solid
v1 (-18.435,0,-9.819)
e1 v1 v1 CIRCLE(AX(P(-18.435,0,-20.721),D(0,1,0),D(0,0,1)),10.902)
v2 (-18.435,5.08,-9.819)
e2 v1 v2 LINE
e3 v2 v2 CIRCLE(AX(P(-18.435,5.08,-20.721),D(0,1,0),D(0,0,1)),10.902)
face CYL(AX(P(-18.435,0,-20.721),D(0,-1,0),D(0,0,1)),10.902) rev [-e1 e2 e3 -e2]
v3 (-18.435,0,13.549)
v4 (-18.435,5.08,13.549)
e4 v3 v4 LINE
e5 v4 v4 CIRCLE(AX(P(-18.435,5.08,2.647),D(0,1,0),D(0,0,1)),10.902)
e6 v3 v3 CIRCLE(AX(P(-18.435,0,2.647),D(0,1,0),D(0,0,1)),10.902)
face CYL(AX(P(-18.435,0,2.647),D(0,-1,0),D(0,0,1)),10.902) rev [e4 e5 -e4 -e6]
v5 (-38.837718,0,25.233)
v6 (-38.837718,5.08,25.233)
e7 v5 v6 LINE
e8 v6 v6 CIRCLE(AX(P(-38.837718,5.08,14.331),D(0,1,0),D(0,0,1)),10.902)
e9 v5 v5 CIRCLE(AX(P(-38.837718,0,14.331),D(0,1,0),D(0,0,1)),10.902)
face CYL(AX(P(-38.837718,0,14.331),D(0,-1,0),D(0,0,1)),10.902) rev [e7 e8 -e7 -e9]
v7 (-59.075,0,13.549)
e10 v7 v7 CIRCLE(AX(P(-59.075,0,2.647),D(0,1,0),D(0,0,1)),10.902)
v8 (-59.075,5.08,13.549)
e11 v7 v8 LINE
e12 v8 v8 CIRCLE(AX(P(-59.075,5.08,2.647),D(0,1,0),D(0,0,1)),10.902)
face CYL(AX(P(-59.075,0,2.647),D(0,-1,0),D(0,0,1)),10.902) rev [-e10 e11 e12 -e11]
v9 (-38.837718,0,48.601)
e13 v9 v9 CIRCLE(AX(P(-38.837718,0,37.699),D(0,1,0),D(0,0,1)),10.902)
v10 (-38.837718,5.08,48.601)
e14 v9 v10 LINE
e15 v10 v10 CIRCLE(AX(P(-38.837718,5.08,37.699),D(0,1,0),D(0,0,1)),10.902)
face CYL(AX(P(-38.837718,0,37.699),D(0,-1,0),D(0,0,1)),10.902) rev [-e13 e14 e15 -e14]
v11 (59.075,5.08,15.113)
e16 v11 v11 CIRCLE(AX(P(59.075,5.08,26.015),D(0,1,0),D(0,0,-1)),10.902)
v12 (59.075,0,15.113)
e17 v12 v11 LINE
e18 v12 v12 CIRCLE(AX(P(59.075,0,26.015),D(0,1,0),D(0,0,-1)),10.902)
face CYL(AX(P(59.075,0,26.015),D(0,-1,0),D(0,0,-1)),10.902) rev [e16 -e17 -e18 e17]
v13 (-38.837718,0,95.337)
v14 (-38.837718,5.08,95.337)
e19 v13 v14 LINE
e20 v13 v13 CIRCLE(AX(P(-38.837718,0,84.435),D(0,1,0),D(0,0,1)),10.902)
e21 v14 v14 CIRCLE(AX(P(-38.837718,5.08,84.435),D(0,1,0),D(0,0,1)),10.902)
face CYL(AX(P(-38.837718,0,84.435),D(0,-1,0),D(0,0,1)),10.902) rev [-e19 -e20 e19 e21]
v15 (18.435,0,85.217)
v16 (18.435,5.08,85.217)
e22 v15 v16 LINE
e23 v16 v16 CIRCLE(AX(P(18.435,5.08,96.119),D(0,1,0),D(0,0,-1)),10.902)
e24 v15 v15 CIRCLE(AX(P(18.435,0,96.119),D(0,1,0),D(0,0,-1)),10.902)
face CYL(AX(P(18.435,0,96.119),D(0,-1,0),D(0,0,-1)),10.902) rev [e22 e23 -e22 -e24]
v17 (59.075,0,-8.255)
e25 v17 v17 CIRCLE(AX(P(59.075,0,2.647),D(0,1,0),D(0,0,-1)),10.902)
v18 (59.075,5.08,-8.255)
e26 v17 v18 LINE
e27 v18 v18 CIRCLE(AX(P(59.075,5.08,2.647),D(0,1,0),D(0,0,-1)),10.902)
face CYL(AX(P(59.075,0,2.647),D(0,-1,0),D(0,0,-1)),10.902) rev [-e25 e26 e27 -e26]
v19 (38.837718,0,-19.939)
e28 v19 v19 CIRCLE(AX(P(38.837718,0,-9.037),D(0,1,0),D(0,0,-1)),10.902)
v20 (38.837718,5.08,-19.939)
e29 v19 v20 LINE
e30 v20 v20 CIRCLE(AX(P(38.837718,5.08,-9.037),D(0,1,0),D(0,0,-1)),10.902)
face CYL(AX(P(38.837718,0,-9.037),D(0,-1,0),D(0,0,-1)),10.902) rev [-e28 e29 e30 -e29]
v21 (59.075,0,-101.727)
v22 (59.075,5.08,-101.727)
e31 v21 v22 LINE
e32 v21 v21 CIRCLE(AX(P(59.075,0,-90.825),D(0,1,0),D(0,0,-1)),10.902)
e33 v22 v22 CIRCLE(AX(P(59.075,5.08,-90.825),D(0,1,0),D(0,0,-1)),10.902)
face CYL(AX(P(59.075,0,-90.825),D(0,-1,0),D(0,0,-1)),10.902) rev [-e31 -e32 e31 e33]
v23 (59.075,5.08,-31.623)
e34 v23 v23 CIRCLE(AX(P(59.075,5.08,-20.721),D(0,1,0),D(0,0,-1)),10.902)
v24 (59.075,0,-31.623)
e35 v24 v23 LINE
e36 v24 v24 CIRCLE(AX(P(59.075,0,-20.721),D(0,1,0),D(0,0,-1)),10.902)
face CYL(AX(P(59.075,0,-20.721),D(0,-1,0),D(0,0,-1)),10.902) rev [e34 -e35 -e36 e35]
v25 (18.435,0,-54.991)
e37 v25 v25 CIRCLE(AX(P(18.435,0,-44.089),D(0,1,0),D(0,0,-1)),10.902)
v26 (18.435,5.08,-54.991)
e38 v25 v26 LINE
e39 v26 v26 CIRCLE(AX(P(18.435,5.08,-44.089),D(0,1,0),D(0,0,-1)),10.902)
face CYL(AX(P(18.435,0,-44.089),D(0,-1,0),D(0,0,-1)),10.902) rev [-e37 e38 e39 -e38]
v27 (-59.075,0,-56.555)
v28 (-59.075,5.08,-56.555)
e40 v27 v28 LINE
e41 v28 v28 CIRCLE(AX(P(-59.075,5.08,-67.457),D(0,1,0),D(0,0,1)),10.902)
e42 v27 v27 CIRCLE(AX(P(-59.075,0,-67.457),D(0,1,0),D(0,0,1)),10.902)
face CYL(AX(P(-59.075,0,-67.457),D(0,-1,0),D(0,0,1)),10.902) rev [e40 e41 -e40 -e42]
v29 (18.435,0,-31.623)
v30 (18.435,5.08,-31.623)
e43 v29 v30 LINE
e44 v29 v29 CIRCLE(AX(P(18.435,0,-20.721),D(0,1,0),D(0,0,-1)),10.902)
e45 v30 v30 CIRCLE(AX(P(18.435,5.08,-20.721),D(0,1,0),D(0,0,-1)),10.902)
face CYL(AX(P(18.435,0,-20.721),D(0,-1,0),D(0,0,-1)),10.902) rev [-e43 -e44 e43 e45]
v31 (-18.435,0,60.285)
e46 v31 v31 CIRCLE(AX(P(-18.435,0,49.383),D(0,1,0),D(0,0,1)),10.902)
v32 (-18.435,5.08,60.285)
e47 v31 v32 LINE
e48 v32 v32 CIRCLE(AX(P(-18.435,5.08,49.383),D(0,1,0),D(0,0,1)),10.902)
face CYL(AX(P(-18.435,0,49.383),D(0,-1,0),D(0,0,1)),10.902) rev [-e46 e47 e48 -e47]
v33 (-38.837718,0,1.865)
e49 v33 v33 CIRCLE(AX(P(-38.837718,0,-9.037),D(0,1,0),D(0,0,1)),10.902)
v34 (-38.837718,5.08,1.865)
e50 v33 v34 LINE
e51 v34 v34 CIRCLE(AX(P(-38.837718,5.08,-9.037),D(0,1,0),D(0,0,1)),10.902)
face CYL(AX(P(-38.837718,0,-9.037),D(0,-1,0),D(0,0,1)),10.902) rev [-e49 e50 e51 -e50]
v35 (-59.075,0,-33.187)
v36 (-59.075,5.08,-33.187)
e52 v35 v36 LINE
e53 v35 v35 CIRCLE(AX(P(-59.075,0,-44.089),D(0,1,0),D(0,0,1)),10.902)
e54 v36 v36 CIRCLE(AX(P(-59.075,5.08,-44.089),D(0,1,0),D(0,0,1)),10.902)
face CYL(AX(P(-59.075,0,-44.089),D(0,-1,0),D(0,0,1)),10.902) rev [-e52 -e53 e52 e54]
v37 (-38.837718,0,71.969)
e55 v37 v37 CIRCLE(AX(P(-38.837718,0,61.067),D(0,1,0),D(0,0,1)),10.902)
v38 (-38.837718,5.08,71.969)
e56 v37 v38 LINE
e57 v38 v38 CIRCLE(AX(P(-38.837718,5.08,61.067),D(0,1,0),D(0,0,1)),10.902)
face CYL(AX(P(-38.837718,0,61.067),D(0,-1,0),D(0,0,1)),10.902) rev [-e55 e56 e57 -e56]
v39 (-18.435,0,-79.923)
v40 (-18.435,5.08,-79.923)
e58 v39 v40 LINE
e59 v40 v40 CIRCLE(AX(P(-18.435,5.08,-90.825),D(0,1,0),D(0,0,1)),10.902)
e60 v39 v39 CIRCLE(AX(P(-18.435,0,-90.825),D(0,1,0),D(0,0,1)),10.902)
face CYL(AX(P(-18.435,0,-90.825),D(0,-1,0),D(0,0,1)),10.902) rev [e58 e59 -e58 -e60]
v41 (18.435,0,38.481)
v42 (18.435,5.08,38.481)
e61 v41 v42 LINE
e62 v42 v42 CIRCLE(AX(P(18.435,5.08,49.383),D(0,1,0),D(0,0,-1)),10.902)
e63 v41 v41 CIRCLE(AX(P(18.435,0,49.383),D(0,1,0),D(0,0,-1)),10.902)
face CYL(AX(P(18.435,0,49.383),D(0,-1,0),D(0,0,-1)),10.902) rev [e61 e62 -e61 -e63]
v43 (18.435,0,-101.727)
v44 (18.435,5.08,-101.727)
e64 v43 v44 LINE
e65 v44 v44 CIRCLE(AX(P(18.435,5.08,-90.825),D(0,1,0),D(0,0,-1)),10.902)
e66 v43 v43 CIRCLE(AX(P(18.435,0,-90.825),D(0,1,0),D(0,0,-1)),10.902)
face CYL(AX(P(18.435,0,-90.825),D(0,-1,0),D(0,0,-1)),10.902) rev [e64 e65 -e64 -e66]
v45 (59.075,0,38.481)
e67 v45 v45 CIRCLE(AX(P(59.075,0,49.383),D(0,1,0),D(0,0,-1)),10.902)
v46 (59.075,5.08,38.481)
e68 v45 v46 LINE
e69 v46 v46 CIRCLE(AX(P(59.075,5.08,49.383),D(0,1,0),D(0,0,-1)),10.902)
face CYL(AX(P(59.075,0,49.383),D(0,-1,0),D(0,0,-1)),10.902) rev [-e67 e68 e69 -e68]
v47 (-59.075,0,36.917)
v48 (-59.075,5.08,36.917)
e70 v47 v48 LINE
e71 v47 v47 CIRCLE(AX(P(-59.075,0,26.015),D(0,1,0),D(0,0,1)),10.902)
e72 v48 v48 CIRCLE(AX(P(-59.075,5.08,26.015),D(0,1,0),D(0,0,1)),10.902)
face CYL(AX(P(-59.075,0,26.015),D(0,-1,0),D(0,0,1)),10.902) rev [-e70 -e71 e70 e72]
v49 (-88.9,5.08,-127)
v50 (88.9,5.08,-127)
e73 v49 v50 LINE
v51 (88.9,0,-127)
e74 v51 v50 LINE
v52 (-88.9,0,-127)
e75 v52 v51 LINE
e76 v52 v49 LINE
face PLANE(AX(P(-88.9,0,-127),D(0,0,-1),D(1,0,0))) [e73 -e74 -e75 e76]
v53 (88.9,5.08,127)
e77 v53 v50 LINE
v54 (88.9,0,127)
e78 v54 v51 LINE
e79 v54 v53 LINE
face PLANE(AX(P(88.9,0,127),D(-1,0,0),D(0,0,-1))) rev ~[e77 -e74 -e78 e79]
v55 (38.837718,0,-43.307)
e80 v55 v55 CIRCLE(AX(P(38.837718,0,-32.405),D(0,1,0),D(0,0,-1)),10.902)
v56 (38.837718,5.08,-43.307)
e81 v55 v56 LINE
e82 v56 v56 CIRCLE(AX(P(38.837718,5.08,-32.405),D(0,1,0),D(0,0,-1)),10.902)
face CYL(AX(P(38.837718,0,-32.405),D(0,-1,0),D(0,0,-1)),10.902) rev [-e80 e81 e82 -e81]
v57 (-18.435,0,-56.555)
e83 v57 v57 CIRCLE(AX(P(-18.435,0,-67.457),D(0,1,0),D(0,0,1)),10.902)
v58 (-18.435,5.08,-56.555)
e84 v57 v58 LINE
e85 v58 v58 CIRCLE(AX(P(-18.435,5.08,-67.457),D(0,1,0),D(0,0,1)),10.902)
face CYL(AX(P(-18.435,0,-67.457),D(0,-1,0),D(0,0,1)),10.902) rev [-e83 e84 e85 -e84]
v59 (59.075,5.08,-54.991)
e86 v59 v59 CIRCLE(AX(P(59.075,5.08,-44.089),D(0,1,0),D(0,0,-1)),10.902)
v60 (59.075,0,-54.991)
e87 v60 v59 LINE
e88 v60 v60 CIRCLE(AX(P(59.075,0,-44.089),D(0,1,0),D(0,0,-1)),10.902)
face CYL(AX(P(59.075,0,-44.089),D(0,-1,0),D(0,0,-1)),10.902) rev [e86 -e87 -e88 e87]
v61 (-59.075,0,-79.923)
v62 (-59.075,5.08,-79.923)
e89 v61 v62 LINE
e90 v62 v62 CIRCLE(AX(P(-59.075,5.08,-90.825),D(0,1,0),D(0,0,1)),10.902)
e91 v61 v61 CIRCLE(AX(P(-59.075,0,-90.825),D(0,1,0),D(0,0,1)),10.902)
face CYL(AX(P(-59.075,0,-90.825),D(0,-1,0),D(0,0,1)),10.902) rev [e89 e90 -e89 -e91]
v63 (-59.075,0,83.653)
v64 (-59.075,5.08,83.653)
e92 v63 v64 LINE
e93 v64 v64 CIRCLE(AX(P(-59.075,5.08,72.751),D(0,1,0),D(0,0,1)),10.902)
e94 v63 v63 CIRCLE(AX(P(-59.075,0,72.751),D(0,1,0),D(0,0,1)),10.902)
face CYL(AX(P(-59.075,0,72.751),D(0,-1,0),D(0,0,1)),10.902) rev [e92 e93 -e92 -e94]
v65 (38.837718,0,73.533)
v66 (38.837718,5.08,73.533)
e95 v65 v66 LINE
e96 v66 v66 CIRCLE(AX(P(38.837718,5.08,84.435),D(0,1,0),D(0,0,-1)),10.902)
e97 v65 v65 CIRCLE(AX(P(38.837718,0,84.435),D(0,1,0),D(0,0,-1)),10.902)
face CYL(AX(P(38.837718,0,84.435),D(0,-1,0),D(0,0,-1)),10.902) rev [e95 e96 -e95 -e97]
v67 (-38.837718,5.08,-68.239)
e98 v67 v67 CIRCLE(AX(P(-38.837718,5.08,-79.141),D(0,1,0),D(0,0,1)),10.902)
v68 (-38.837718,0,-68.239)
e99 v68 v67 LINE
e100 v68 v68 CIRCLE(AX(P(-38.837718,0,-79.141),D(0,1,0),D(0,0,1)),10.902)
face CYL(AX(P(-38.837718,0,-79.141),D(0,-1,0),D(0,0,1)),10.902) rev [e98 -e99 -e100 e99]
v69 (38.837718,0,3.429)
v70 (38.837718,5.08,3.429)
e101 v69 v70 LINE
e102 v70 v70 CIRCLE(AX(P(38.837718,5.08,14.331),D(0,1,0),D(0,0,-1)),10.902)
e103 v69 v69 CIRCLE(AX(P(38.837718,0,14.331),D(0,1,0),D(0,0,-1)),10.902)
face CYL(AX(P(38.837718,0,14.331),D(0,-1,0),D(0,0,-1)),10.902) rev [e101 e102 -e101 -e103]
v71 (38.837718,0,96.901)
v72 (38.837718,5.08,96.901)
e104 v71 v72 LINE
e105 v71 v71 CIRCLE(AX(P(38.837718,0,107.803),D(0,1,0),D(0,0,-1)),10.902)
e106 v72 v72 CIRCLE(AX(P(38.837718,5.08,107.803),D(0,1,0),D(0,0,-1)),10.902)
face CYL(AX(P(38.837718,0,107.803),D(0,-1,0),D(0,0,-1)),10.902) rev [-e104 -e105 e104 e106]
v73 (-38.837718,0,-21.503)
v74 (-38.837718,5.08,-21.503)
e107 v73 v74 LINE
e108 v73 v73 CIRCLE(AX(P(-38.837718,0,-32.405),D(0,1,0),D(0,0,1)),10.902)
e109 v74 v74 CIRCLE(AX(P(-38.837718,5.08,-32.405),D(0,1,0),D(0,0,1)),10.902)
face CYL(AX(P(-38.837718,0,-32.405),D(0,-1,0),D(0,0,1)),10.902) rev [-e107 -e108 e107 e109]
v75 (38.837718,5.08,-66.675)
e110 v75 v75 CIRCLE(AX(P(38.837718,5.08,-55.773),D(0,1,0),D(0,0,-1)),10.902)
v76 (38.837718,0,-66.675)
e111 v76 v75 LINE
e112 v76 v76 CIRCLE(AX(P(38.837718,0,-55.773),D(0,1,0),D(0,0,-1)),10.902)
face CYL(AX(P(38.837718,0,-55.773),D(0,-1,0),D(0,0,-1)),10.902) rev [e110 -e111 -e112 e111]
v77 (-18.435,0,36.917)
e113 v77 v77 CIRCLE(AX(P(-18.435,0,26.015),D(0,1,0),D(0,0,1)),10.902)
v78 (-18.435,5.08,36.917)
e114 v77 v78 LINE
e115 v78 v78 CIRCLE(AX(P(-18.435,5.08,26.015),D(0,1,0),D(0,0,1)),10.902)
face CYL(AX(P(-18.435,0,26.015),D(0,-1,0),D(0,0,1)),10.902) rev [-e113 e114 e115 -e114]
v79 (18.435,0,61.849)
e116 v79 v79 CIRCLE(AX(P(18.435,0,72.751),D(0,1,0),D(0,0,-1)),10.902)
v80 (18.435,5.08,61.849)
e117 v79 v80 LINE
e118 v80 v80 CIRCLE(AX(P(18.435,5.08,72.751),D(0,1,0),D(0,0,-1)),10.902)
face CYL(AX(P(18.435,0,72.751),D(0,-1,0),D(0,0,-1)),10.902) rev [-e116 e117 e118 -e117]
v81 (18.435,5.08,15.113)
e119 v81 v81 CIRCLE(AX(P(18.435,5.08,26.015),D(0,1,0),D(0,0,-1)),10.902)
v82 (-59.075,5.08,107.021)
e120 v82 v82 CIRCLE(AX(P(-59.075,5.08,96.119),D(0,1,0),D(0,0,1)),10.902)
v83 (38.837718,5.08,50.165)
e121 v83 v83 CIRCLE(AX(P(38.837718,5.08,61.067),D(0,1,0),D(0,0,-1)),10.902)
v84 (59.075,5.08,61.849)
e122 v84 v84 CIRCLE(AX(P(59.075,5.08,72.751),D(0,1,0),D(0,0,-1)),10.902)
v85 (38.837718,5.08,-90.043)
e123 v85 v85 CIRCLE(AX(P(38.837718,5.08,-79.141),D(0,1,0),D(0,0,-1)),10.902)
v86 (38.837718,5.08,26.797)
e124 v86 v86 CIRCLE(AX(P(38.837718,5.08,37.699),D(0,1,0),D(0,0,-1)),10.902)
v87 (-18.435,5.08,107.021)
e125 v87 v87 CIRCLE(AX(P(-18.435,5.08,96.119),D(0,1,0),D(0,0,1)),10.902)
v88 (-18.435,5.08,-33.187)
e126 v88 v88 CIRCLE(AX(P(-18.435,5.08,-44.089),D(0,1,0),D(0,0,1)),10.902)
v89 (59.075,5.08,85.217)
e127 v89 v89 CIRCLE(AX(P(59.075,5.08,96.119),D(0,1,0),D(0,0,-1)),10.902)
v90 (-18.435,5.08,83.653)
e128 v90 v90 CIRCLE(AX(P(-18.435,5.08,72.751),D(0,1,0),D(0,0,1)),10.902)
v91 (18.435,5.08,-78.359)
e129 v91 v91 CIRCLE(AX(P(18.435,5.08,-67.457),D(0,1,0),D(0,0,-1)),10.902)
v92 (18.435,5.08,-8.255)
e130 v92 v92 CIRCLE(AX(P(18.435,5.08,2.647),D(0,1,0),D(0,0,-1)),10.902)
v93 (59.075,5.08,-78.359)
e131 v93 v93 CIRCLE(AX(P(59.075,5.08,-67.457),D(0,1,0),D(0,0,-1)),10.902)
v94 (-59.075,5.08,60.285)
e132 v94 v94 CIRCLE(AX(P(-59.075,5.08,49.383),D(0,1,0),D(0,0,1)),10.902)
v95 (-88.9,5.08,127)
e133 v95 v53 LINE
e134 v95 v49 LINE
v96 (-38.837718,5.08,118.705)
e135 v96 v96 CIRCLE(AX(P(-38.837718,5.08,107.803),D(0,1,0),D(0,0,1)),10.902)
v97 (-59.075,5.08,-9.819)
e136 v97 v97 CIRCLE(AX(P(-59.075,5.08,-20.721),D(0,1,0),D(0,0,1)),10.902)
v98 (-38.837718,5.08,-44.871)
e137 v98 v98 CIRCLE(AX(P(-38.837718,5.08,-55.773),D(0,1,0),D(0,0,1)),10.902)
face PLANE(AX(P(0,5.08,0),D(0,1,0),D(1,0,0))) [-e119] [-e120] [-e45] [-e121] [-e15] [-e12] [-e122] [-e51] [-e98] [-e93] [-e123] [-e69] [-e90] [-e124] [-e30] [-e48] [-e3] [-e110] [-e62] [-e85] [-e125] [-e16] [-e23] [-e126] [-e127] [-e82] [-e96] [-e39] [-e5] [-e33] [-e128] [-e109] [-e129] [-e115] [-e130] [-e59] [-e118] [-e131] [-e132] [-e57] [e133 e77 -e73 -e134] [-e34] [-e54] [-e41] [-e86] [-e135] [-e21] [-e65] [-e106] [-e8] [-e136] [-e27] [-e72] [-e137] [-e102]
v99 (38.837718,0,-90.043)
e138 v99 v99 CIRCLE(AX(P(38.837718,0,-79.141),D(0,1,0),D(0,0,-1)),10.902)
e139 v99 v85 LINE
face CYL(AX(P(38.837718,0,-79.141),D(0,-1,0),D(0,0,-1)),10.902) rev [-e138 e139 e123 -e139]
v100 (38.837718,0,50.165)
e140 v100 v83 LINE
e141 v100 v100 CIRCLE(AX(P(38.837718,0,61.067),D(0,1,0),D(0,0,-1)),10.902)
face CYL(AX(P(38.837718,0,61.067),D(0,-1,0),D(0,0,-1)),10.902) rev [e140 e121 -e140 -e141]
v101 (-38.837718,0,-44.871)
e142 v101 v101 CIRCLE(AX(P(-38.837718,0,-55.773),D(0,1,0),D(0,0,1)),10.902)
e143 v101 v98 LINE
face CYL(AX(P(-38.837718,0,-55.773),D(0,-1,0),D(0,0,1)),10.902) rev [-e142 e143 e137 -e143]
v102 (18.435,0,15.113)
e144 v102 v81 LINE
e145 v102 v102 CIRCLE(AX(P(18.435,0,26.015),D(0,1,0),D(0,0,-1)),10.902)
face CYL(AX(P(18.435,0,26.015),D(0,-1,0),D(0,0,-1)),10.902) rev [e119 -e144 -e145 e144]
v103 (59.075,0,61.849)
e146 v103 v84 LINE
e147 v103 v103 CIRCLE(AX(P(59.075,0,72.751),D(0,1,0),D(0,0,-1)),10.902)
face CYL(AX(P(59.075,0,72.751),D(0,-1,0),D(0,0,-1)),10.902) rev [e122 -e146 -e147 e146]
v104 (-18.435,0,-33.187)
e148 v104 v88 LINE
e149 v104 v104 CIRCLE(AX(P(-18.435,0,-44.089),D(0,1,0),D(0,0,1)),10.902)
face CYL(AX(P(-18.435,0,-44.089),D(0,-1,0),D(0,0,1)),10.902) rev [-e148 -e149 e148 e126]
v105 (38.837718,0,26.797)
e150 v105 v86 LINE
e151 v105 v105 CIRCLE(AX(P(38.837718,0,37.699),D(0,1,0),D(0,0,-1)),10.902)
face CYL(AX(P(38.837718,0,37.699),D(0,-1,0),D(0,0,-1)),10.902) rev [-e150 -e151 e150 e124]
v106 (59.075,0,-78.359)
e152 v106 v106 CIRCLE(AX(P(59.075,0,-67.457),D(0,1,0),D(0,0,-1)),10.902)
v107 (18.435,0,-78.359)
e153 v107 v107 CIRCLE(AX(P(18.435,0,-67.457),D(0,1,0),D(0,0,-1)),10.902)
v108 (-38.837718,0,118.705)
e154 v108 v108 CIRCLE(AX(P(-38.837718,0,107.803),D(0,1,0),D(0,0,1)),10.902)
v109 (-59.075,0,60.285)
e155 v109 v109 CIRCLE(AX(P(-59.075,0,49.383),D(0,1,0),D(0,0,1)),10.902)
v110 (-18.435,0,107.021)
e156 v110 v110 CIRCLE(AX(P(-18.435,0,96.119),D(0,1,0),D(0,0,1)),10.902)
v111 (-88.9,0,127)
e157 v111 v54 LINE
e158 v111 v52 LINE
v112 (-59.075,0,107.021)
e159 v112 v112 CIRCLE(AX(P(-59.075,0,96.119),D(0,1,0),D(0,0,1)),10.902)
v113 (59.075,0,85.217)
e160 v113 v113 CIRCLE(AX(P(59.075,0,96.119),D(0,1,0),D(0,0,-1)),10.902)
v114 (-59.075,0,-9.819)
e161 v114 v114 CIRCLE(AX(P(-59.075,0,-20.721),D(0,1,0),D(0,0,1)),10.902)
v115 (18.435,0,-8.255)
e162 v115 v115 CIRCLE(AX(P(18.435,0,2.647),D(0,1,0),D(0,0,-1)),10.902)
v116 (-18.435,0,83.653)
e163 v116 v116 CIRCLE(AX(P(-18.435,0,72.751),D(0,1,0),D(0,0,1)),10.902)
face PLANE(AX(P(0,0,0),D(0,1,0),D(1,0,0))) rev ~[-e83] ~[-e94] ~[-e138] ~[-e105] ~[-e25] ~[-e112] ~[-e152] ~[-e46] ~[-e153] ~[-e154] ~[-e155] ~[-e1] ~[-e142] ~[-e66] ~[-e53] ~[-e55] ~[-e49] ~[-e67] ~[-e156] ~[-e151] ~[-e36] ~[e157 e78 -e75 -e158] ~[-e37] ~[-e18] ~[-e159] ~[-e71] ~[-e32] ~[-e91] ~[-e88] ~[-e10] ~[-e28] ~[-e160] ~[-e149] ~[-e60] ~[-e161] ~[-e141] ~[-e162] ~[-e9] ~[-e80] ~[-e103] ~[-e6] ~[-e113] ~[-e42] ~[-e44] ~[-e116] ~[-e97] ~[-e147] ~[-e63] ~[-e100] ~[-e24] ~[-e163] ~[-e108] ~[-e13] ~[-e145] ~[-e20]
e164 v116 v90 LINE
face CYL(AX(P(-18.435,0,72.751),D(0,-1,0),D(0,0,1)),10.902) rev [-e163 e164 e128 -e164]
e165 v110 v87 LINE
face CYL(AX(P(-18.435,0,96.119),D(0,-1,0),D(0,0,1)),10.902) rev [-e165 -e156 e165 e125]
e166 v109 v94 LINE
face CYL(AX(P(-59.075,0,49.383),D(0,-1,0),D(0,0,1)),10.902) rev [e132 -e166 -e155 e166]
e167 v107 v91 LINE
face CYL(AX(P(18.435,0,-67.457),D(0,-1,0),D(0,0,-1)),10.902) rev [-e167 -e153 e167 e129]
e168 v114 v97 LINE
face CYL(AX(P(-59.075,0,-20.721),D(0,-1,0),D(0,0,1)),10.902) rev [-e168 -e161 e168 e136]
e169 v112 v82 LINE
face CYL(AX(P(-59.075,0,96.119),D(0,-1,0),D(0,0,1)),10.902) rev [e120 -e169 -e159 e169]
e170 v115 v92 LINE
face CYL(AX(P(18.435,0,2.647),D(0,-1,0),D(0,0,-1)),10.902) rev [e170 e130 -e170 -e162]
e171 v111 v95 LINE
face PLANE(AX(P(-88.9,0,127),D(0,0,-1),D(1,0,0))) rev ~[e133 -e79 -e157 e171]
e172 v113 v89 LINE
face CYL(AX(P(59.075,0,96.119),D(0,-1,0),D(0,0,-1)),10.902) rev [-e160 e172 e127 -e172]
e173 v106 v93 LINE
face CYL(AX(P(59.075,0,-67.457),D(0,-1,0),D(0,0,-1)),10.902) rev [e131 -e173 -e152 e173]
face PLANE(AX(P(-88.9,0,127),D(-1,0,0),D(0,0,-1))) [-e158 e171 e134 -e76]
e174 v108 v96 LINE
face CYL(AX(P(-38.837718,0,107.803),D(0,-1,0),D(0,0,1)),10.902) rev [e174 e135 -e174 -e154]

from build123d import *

# Parameters (mm, degrees)
SKETCH1_W           = 177.8
SKETCH1_H           = 254
SKETCH1_R           = 10.90200004
BOSS_EXTRUDE1_DEPTH = 5.08


with BuildPart() as part:
    # Sketch1 → Boss-Extrude1 (new body)
    with BuildSketch(Plane(origin=(0, 0, 0), x_dir=(1, 0, 0), z_dir=(0, 1, 0))):
        Rectangle(SKETCH1_W, SKETCH1_H)
        with Locations(Location((-59.07499996, 90.82499996, 0), (0, 0, 270))):
            Circle(SKETCH1_R, mode=Mode.SUBTRACT)
        with Locations(Location((-18.43499996, 90.82499996, 0), (0, 0, 270))):
            Circle(SKETCH1_R, mode=Mode.SUBTRACT)
        with Locations(Location((-18.43499996, 67.45699996, 0), (0, 0, 270))):
            Circle(SKETCH1_R, mode=Mode.SUBTRACT)
        with Locations(Location((-18.43499996, 44.08899996, 0), (0, 0, 270))):
            Circle(SKETCH1_R, mode=Mode.SUBTRACT)
        with Locations(Location((-18.43499996, 20.72099996, 0), (0, 0, 270))):
            Circle(SKETCH1_R, mode=Mode.SUBTRACT)
        with Locations(Location((-18.43499996, -2.64700004, 0), (0, 0, 270))):
            Circle(SKETCH1_R, mode=Mode.SUBTRACT)
        with Locations(Location((-18.43499996, -26.01500004, 0), (0, 0, 270))):
            Circle(SKETCH1_R, mode=Mode.SUBTRACT)
        with Locations(Location((-18.43499996, -49.38300004, 0), (0, 0, 270))):
            Circle(SKETCH1_R, mode=Mode.SUBTRACT)
        with Locations(Location((-18.43499996, -72.75100004, 0), (0, 0, 270))):
            Circle(SKETCH1_R, mode=Mode.SUBTRACT)
        with Locations(Location((-18.43499996, -96.11900004, 0), (0, 0, 270))):
            Circle(SKETCH1_R, mode=Mode.SUBTRACT)
        with Locations(Location((-59.07499996, 67.45699996, 0), (0, 0, 270))):
            Circle(SKETCH1_R, mode=Mode.SUBTRACT)
        with Locations(Location((-59.07499996, 44.08899996, 0), (0, 0, 270))):
            Circle(SKETCH1_R, mode=Mode.SUBTRACT)
        with Locations(Location((-59.07499996, 20.72099996, 0), (0, 0, 270))):
            Circle(SKETCH1_R, mode=Mode.SUBTRACT)
        with Locations(Location((-59.07499996, -2.64700004, 0), (0, 0, 270))):
            Circle(SKETCH1_R, mode=Mode.SUBTRACT)
        with Locations(Location((-59.07499996, -26.01500004, 0), (0, 0, 270))):
            Circle(SKETCH1_R, mode=Mode.SUBTRACT)
        with Locations(Location((-59.07499996, -49.38300004, 0), (0, 0, 270))):
            Circle(SKETCH1_R, mode=Mode.SUBTRACT)
        with Locations(Location((-59.07499996, -72.75100004, 0), (0, 0, 270))):
            Circle(SKETCH1_R, mode=Mode.SUBTRACT)
        with Locations(Location((-59.07499996, -96.11900004, 0), (0, 0, 270))):
            Circle(SKETCH1_R, mode=Mode.SUBTRACT)
        with Locations(Location((-38.837718324, -107.80300004, 0), (0, 0, 270))):
            Circle(SKETCH1_R, mode=Mode.SUBTRACT)
        with Locations(Location((-38.837718324, -84.43500004, 0), (0, 0, 270))):
            Circle(SKETCH1_R, mode=Mode.SUBTRACT)
        with Locations(Location((-38.837718324, -61.06700004, 0), (0, 0, 270))):
            Circle(SKETCH1_R, mode=Mode.SUBTRACT)
        with Locations(Location((-38.837718324, -37.69900004, 0), (0, 0, 270))):
            Circle(SKETCH1_R, mode=Mode.SUBTRACT)
        with Locations(Location((-38.837718324, -14.33100004, 0), (0, 0, 270))):
            Circle(SKETCH1_R, mode=Mode.SUBTRACT)
        with Locations(Location((-38.837718324, 9.03699996, 0), (0, 0, 270))):
            Circle(SKETCH1_R, mode=Mode.SUBTRACT)
        with Locations(Location((-38.837718324, 32.40499996, 0), (0, 0, 270))):
            Circle(SKETCH1_R, mode=Mode.SUBTRACT)
        with Locations(Location((-38.837718324, 55.77299996, 0), (0, 0, 270))):
            Circle(SKETCH1_R, mode=Mode.SUBTRACT)
        with Locations(Location((-38.837718324, 79.14099996, 0), (0, 0, 270))):
            Circle(SKETCH1_R, mode=Mode.SUBTRACT)
        with Locations(Location((59.07499996, -96.11900004, 0), (0, 0, 90))):
            Circle(SKETCH1_R, mode=Mode.SUBTRACT)
        with Locations(Location((18.43499996, -72.75100004, 0), (0, 0, 90))):
            Circle(SKETCH1_R, mode=Mode.SUBTRACT)
        with Locations(Location((18.43499996, -96.11900004, 0), (0, 0, 90))):
            Circle(SKETCH1_R, mode=Mode.SUBTRACT)
        with Locations(Location((38.837718324, -84.43500004, 0), (0, 0, 90))):
            Circle(SKETCH1_R, mode=Mode.SUBTRACT)
        with Locations(Location((38.837718324, -107.80300004, 0), (0, 0, 90))):
            Circle(SKETCH1_R, mode=Mode.SUBTRACT)
        with Locations(Location((59.07499996, -72.75100004, 0), (0, 0, 90))):
            Circle(SKETCH1_R, mode=Mode.SUBTRACT)
        with Locations(Location((59.07499996, -49.38300004, 0), (0, 0, 90))):
            Circle(SKETCH1_R, mode=Mode.SUBTRACT)
        with Locations(Location((38.837718324, -61.06700004, 0), (0, 0, 90))):
            Circle(SKETCH1_R, mode=Mode.SUBTRACT)
        with Locations(Location((18.43499996, -49.38300004, 0), (0, 0, 90))):
            Circle(SKETCH1_R, mode=Mode.SUBTRACT)
        with Locations(Location((38.837718324, -37.69900004, 0), (0, 0, 90))):
            Circle(SKETCH1_R, mode=Mode.SUBTRACT)
        with Locations(Location((59.07499996, -26.01500004, 0), (0, 0, 90))):
            Circle(SKETCH1_R, mode=Mode.SUBTRACT)
        with Locations(Location((18.43499996, -26.01500004, 0), (0, 0, 90))):
            Circle(SKETCH1_R, mode=Mode.SUBTRACT)
        with Locations(Location((38.837718324, -14.33100004, 0), (0, 0, 90))):
            Circle(SKETCH1_R, mode=Mode.SUBTRACT)
        with Locations(Location((59.07499996, -2.64700004, 0), (0, 0, 90))):
            Circle(SKETCH1_R, mode=Mode.SUBTRACT)
        with Locations(Location((18.43499996, -2.64700004, 0), (0, 0, 90))):
            Circle(SKETCH1_R, mode=Mode.SUBTRACT)
        with Locations(Location((38.837718324, 9.03699996, 0), (0, 0, 90))):
            Circle(SKETCH1_R, mode=Mode.SUBTRACT)
        with Locations(Location((59.07499996, 20.72099996, 0), (0, 0, 90))):
            Circle(SKETCH1_R, mode=Mode.SUBTRACT)
        with Locations(Location((18.43499996, 20.72099996, 0), (0, 0, 90))):
            Circle(SKETCH1_R, mode=Mode.SUBTRACT)
        with Locations(Location((38.837718324, 32.40499996, 0), (0, 0, 90))):
            Circle(SKETCH1_R, mode=Mode.SUBTRACT)
        with Locations(Location((59.07499996, 44.08899996, 0), (0, 0, 90))):
            Circle(SKETCH1_R, mode=Mode.SUBTRACT)
        with Locations(Location((18.43499996, 44.08899996, 0), (0, 0, 90))):
            Circle(SKETCH1_R, mode=Mode.SUBTRACT)
        with Locations(Location((18.43499996, 67.45699996, 0), (0, 0, 90))):
            Circle(SKETCH1_R, mode=Mode.SUBTRACT)
        with Locations(Location((38.837718324, 55.77299996, 0), (0, 0, 90))):
            Circle(SKETCH1_R, mode=Mode.SUBTRACT)
        with Locations(Location((59.07499996, 67.45699996, 0), (0, 0, 90))):
            Circle(SKETCH1_R, mode=Mode.SUBTRACT)
        with Locations(Location((38.837718324, 79.14099996, 0), (0, 0, 90))):
            Circle(SKETCH1_R, mode=Mode.SUBTRACT)
        with Locations(Location((18.43499996, 90.82499996, 0), (0, 0, 90))):
            Circle(SKETCH1_R, mode=Mode.SUBTRACT)
        with Locations(Location((59.07499996, 90.82499996, 0), (0, 0, 90))):
            Circle(SKETCH1_R, mode=Mode.SUBTRACT)
    extrude(amount=BOSS_EXTRUDE1_DEPTH)


solid = part.part
